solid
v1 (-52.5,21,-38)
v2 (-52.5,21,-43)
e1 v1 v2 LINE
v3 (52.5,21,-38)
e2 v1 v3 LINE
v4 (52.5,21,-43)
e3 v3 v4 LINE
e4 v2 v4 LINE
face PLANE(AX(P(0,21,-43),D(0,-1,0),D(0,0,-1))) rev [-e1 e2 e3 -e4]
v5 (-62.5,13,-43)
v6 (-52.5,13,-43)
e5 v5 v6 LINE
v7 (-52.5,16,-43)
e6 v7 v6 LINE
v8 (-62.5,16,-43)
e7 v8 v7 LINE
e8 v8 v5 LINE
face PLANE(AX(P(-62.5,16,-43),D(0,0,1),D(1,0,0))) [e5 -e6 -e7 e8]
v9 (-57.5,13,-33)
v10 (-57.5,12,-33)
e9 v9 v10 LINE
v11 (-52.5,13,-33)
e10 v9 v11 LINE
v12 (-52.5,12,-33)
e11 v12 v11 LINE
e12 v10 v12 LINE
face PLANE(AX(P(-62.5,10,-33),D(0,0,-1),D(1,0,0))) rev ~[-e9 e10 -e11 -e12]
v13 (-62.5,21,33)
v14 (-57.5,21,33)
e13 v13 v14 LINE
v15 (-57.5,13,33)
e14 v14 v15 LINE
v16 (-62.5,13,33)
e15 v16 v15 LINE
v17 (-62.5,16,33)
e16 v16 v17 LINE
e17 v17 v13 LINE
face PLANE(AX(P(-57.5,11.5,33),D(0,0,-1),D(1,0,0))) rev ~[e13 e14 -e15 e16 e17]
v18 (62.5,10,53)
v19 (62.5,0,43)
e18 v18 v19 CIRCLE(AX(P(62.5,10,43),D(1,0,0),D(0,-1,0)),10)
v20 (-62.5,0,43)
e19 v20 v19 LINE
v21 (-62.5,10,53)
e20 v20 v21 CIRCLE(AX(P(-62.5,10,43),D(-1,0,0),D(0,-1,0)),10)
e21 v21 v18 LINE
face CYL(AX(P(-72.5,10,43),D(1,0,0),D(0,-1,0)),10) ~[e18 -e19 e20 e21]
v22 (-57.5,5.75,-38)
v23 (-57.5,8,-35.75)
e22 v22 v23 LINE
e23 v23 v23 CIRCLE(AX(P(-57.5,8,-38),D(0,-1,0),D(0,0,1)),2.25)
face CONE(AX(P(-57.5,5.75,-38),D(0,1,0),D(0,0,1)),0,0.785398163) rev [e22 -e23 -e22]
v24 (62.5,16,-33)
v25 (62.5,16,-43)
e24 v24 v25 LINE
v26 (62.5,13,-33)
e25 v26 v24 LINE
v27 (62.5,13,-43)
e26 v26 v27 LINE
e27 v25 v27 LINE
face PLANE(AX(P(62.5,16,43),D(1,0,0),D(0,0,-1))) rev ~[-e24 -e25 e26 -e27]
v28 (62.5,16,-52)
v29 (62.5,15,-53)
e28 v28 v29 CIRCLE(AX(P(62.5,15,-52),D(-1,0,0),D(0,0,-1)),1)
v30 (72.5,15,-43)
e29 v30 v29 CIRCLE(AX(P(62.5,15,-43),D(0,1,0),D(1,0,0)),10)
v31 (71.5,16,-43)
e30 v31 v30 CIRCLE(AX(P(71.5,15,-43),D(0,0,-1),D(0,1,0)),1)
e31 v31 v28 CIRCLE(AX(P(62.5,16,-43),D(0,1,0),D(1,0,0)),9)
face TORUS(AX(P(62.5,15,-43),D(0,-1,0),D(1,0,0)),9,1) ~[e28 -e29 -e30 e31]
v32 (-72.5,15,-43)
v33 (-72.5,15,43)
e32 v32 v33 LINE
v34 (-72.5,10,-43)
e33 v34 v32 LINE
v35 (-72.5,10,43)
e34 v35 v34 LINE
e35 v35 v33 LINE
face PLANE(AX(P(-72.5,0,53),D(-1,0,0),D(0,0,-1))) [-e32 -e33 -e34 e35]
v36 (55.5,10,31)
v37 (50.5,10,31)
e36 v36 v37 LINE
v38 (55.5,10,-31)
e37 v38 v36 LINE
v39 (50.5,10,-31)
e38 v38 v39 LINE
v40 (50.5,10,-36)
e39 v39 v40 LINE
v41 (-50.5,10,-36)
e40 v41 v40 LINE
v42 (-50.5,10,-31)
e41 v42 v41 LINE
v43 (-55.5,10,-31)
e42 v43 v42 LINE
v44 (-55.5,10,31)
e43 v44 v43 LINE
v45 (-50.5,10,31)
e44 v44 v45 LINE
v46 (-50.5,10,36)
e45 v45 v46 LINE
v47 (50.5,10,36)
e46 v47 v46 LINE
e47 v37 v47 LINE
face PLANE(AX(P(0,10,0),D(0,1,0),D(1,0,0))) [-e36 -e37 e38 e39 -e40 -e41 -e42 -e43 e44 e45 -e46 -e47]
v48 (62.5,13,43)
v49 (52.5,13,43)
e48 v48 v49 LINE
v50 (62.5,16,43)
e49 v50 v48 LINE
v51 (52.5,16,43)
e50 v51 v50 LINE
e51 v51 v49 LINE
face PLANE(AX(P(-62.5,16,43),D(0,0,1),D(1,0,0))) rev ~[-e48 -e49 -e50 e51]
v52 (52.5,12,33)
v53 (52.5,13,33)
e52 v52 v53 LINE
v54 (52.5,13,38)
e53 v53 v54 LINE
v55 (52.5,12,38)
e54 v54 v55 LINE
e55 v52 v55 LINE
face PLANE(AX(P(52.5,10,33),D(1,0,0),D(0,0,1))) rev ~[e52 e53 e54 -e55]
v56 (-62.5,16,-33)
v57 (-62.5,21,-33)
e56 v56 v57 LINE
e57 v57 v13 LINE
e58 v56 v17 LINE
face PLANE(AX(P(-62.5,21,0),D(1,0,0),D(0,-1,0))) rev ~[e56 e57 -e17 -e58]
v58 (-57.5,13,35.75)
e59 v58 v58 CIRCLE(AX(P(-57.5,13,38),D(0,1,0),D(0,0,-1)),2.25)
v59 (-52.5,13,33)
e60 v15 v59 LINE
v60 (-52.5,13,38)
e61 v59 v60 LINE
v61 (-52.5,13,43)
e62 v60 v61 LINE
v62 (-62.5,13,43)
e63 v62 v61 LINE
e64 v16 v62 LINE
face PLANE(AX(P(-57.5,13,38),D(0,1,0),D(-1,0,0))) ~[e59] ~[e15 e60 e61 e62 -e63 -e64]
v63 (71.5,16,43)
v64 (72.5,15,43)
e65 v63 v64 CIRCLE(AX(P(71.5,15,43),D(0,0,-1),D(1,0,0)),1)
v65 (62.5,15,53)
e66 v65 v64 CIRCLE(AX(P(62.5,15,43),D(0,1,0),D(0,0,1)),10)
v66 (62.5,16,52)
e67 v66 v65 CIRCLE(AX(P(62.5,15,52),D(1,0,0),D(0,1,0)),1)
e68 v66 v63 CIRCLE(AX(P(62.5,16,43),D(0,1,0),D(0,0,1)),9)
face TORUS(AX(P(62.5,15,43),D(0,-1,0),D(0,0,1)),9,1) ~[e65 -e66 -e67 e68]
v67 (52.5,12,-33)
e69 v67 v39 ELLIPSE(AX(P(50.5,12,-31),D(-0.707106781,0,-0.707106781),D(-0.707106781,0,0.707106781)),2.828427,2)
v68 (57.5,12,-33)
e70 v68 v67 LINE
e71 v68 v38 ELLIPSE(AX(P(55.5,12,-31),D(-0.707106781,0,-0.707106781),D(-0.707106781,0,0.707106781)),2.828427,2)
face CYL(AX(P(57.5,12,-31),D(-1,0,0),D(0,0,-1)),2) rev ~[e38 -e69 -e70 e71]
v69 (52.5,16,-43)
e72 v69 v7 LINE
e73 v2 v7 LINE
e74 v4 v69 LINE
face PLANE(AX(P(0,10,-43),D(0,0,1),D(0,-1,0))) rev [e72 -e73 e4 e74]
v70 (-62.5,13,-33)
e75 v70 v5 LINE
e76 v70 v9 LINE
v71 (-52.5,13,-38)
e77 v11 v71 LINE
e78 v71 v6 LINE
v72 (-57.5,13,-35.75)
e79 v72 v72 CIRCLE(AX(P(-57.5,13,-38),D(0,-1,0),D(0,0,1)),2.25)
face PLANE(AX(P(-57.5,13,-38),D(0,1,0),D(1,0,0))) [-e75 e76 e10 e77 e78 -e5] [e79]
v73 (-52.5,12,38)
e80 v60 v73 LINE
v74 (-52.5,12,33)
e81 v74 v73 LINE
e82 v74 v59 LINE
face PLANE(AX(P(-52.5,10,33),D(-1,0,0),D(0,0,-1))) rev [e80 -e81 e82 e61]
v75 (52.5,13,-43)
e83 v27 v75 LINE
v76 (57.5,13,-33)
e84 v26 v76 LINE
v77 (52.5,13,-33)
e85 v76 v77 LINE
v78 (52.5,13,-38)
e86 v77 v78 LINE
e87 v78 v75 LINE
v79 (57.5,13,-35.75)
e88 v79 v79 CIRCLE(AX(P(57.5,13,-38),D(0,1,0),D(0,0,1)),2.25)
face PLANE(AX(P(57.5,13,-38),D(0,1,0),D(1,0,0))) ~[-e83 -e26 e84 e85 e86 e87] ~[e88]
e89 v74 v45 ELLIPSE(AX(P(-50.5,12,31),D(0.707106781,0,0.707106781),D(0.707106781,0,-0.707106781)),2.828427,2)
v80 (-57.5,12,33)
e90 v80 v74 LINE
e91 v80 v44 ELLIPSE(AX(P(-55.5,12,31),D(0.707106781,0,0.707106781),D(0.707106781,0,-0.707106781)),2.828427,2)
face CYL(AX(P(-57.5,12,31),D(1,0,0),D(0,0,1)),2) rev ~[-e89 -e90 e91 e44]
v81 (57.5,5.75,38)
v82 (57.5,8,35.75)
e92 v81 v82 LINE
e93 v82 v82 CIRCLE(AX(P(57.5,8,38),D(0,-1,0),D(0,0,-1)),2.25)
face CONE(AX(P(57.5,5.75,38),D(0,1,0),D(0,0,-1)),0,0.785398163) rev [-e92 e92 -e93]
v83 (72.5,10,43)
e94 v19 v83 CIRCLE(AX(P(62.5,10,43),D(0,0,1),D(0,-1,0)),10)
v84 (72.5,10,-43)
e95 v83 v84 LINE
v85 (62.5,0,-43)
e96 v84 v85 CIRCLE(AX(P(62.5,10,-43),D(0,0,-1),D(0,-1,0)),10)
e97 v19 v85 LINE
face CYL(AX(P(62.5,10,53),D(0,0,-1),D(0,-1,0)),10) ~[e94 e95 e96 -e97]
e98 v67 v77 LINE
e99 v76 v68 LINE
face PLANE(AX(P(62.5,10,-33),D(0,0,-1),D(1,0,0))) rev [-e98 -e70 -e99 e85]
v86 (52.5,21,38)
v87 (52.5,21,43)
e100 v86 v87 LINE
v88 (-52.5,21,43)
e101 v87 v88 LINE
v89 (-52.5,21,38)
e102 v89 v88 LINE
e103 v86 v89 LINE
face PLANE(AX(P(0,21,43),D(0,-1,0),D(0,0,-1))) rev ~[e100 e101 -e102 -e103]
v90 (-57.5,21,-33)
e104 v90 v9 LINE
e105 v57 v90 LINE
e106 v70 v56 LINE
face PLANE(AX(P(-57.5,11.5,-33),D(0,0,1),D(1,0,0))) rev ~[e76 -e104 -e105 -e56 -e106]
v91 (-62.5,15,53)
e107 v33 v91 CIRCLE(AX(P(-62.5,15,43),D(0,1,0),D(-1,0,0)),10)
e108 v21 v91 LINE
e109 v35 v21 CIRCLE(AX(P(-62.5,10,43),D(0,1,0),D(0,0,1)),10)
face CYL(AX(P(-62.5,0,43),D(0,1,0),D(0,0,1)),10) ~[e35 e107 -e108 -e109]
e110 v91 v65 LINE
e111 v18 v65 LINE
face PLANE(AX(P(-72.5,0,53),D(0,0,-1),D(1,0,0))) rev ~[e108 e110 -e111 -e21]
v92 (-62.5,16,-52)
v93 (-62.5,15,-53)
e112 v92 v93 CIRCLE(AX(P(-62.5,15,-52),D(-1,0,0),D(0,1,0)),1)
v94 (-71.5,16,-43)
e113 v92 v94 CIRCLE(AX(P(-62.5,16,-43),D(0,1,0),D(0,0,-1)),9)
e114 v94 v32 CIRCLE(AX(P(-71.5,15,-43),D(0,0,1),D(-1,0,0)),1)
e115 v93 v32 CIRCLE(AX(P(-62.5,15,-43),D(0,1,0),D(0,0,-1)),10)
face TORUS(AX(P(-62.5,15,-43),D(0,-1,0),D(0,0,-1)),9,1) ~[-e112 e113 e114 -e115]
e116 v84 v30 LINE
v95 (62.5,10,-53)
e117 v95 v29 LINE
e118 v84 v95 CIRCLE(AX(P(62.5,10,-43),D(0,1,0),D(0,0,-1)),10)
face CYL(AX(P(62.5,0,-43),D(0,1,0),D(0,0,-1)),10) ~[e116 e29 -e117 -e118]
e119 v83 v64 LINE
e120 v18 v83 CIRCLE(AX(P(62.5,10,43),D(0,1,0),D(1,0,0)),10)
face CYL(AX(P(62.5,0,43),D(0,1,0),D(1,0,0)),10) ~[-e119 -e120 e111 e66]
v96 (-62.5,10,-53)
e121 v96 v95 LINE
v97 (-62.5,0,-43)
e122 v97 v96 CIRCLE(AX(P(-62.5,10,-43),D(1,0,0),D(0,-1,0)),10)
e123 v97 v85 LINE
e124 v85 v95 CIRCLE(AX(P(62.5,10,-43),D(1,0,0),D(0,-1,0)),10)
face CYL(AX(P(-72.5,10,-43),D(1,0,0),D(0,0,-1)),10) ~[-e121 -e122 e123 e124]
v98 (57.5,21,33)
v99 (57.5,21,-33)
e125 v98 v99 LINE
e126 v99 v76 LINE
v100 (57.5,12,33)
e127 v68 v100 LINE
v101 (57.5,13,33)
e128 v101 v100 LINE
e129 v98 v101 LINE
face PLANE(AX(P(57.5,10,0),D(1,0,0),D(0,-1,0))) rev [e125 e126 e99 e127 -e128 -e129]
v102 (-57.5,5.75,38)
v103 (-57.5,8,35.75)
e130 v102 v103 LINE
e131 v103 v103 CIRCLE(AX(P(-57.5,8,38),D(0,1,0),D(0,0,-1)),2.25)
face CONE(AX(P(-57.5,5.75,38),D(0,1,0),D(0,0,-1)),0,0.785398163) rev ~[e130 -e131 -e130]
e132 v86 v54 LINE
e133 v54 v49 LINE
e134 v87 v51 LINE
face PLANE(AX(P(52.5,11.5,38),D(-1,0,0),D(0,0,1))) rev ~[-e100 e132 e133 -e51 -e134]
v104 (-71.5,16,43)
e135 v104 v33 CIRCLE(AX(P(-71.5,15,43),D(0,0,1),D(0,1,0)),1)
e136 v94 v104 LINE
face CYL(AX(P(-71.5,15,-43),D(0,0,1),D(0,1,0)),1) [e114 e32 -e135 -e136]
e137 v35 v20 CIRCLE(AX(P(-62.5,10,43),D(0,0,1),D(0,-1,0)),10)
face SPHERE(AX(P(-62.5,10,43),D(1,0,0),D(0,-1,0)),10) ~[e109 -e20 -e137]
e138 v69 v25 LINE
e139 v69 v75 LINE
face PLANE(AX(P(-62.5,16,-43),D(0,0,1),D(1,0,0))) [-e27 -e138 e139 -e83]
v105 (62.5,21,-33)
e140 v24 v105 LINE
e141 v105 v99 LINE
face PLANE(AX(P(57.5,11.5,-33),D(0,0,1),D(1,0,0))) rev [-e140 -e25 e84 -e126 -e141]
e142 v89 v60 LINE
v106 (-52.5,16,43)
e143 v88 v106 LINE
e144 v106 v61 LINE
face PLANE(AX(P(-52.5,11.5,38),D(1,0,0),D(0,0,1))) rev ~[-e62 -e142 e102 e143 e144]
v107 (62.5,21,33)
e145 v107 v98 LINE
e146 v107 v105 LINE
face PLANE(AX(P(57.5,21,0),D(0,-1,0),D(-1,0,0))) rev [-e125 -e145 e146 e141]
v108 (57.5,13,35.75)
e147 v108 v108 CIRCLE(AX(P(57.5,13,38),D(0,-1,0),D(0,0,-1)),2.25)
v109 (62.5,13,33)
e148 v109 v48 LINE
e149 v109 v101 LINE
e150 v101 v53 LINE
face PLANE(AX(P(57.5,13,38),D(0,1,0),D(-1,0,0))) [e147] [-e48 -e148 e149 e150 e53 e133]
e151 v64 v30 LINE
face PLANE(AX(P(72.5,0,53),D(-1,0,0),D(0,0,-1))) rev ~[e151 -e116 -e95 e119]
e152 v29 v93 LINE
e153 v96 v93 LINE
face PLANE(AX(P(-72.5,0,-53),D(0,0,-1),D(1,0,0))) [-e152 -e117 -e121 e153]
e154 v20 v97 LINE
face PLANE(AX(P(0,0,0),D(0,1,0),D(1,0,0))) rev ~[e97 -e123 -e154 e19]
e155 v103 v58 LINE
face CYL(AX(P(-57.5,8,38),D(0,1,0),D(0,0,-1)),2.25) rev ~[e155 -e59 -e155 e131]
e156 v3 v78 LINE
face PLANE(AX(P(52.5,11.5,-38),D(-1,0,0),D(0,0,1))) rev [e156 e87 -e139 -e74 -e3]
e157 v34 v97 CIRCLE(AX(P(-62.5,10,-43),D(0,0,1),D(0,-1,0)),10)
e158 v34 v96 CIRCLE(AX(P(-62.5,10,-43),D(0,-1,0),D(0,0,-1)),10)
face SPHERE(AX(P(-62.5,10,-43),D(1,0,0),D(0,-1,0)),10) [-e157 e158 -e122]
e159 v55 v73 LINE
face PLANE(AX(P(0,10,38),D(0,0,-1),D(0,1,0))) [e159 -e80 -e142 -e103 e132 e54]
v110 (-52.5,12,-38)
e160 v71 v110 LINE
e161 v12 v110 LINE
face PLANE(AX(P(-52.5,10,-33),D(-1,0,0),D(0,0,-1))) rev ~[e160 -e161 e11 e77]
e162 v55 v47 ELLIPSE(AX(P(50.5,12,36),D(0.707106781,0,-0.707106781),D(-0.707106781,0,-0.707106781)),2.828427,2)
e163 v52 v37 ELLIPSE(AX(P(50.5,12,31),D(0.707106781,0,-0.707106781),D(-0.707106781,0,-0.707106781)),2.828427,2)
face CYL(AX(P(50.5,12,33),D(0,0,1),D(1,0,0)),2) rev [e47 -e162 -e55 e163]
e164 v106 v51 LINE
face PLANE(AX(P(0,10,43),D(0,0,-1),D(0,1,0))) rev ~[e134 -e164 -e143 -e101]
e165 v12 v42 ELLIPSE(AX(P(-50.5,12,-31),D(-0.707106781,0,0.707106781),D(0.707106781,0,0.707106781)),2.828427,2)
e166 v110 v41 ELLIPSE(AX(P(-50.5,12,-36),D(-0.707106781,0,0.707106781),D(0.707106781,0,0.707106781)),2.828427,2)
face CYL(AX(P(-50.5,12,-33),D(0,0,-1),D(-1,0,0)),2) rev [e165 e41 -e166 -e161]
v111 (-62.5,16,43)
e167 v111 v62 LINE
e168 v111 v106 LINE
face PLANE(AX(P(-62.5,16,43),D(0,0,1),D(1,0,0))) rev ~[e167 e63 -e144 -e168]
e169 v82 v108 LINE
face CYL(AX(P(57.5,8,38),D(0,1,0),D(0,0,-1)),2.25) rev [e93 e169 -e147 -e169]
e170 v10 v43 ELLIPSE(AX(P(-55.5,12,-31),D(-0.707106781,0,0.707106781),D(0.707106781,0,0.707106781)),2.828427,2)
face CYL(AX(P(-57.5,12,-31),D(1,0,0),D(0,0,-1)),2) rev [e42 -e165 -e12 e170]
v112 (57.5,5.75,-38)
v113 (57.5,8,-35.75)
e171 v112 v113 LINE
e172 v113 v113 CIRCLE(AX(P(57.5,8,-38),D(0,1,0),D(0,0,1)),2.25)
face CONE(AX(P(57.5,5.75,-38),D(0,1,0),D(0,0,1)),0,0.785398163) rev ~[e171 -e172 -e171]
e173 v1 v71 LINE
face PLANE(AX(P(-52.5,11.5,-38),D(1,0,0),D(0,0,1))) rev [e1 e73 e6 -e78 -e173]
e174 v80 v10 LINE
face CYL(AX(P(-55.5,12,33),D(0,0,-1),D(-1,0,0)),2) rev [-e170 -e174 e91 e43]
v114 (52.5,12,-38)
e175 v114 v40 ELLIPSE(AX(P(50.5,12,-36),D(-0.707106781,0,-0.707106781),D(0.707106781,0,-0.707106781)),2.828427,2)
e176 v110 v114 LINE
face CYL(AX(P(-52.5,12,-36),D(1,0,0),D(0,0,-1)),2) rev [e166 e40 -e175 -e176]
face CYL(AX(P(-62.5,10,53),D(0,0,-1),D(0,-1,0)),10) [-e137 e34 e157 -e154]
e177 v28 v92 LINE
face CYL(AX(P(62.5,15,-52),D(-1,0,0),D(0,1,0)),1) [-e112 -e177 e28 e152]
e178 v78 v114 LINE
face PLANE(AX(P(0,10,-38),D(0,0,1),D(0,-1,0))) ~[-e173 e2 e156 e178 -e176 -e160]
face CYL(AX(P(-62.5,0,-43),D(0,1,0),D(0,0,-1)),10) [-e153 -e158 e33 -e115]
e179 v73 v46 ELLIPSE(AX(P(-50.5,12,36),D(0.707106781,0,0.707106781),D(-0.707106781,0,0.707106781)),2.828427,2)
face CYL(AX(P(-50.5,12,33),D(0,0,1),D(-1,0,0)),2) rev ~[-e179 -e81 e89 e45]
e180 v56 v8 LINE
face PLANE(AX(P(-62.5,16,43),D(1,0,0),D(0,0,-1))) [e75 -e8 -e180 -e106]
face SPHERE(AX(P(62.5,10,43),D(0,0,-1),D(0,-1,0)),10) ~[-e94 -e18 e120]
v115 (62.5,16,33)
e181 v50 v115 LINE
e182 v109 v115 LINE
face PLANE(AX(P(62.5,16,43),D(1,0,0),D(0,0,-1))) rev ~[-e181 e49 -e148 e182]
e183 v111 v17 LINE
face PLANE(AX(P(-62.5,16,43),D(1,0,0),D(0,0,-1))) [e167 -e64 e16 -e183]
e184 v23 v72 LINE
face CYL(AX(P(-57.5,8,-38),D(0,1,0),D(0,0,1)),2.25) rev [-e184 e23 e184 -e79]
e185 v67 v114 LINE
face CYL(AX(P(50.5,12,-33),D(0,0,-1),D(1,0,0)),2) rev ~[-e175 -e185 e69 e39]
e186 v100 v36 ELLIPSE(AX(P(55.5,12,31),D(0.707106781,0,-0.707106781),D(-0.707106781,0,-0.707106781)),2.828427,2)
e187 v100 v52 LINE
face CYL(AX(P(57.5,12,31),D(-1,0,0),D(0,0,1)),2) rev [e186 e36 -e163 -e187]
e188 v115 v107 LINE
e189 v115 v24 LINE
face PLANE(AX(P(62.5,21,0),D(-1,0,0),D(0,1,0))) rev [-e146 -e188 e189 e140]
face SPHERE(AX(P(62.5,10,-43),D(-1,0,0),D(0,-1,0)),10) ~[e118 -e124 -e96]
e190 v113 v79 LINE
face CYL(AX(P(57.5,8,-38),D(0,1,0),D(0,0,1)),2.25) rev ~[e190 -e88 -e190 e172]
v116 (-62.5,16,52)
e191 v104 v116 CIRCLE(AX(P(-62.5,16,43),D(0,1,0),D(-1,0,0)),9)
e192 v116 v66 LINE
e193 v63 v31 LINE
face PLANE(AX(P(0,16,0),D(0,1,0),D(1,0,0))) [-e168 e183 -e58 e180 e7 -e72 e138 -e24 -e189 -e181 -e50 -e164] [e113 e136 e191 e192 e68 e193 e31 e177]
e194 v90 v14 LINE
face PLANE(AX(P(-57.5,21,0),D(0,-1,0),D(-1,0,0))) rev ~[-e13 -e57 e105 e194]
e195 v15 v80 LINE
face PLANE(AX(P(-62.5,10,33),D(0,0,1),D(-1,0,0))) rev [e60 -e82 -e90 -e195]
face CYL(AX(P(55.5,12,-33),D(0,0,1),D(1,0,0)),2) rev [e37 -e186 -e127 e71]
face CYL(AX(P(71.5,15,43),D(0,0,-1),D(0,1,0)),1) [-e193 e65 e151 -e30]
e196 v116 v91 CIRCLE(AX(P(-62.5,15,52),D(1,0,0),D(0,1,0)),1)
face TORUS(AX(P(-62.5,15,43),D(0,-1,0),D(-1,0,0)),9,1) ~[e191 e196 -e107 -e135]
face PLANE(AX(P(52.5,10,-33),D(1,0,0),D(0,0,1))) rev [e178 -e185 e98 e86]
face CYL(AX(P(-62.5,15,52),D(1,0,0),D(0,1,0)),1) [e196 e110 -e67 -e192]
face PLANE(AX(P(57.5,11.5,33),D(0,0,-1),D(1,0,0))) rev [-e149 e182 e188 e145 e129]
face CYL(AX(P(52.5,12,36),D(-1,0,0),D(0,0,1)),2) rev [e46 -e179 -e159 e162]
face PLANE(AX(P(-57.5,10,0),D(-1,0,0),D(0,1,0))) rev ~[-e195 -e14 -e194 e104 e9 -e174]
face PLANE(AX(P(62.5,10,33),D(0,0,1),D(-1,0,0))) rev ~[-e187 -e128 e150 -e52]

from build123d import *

# Parameters (mm, degrees)
SKETCH1_W                       = 145
SKETCH1_H                       = 106
BOSS_EXTRUDE1_DEPTH             = 16
CUT_EXTRUDE1_START              = 16
SKETCH1_4_W                     = 125
SKETCH1_4_H                     = 86
CUT_EXTRUDE1_DEPTH              = 6
SKETCH6_W                       = 10
SKETCH6_H                       = 10
BOSS_EXTRUDE5_DEPTH             = 3
MIRROR2_COPY_1_SKETCH_W         = 10
MIRROR2_COPY_1_SKETCH_H         = 10
MIRROR2_COPY_1_DEPTH            = 3
BOSS_EXTRUDE6_REACH             = 93.221
BOSS_EXTRUDE6_DIRECTION_2_REACH = 93.221
BOSS_EXTRUDE7_REACH             = 94.229
SKETCH9_W                       = 5
SKETCH9_H                       = 11
BOSS_EXTRUDE7_DIRECTION_2_REACH = 94.229
FILLET1_R                       = 10
FILLET3_R                       = 2
FILLET11_R                      = 1


with BuildPart() as part:
    # Sketch1 → Boss-Extrude1 (new body)
    with BuildSketch(Plane(origin=(0, 0, 0), x_dir=(1, 0, 0), z_dir=(0, 1, 0))):
        Rectangle(SKETCH1_W, SKETCH1_H)
    extrude(amount=BOSS_EXTRUDE1_DEPTH)

    # Sketch1<4> → Cut-Extrude1 (cut)
    with BuildSketch(Plane(origin=(0, 0, 0), x_dir=(1, 0, 0), z_dir=(0, 1, 0)).offset(CUT_EXTRUDE1_START)):
        Rectangle(SKETCH1_4_W, SKETCH1_4_H)
    extrude(amount=-CUT_EXTRUDE1_DEPTH, mode=Mode.SUBTRACT)

    # Sketch6 → Boss-Extrude5 (add)
    with BuildSketch(Plane(origin=(0, 10, 0), x_dir=(1, 0, 0), z_dir=(0, 1, 0))):
        with Locations((-57.5, 38)):
            Rectangle(SKETCH6_W, SKETCH6_H)
    boss_extrude5 = extrude(amount=BOSS_EXTRUDE5_DEPTH)

    # Sketch8 → M4 Clearance Hole1 (revolve, cut)
    with BuildSketch(Plane(origin=(-57.5, 13, -38), x_dir=(0, 0, 1), z_dir=(1, 0, 0))):
        Polygon((0, 0), (0, 7.25), (2.25, 5), (2.25, 0), align=None)
    m4_clearance_hole1 = revolve(axis=Axis((-57.5, 19.35, -38), (0, -1, 0)), mode=Mode.SUBTRACT)

    # Mirror1: Boss-Extrude5, M4 Clearance Hole1 across plane
    add(boss_extrude5.mirror(Plane(origin=(0, 0, 0), x_dir=(0, 0, 1), z_dir=(1, 0, 0))))
    add(m4_clearance_hole1.mirror(Plane(origin=(0, 0, 0), x_dir=(0, 0, 1), z_dir=(1, 0, 0))), mode=Mode.SUBTRACT)

    # Mirror2: Boss-Extrude5, M4 Clearance Hole1 across plane
    add(boss_extrude5.mirror(Plane.XY))
    add(m4_clearance_hole1.mirror(Plane.XY), mode=Mode.SUBTRACT)

    # Mirror2 copy 1 sketch → Mirror2 copy 1 (add)
    with BuildSketch(Plane(origin=(0, 10, 0), x_dir=(-1, 0, 0), z_dir=(0, 1, 0))):
        with Locations((-57.5, 38)):
            Rectangle(MIRROR2_COPY_1_SKETCH_W, MIRROR2_COPY_1_SKETCH_H)
    extrude(amount=MIRROR2_COPY_1_DEPTH)

    # Mirror2 copy 2 sketch → Mirror2 copy 2 (revolve, cut)
    with BuildSketch(Plane(origin=(57.5, 13, 38), x_dir=(0, 0, -1), z_dir=(-1, 0, 0))):
        Polygon((0, 0), (0, 7.25), (2.25, 5), (2.25, 0), align=None)
    revolve(axis=Axis((57.5, 19.35, 38), (0, -1, 0)), mode=Mode.SUBTRACT)

    # Boss-Extrude6: up to this face of the body (flat: up to its plane)
    boss_extrude6_end = Plane(part.part.faces().sort_by_distance((-57.5, 11.5, -33))[0])
    # Sketch4 → Boss-Extrude6 (add, up to the picked face)
    with BuildSketch(Plane.XY, mode=Mode.PRIVATE) as boss_extrude6_sk1:
        Polygon((-57.5, 10), (-57.5, 21), (-62.5, 21), (-62.5, 16), (-62.5, 10), align=None)
    boss_extrude6_tool1 = split(extrude(boss_extrude6_sk1.sketch, amount=-BOSS_EXTRUDE6_REACH, mode=Mode.PRIVATE), bisect_by=boss_extrude6_end, keep=Keep.BOTH, mode=Mode.PRIVATE)
    boss_extrude6 = boss_extrude6_tool1.solids().sort_by(Axis((-60, 15.5, 0), (0, 0, -1)))[0]
    add(boss_extrude6)

    # Boss-Extrude6 direction 2: up to this face of the body (flat: up to its plane)
    boss_extrude6_direction_2_end = Plane(part.part.faces().sort_by_distance((-57.5, 11.5, 33))[0])
    # Sketch4 → Boss-Extrude6 direction 2 (add, up to the picked face)
    with BuildSketch(Plane.XY, mode=Mode.PRIVATE) as boss_extrude6_direction_2_sk1:
        Polygon((-57.5, 10), (-57.5, 21), (-62.5, 21), (-62.5, 16), (-62.5, 10), align=None)
    boss_extrude6_direction_2_tool1 = split(extrude(boss_extrude6_direction_2_sk1.sketch, amount=BOSS_EXTRUDE6_DIRECTION_2_REACH, mode=Mode.PRIVATE), bisect_by=boss_extrude6_direction_2_end, keep=Keep.BOTH, mode=Mode.PRIVATE)
    boss_extrude6_direction_2 = boss_extrude6_direction_2_tool1.solids().sort_by(Axis((-60, 15.5, 0), (0, 0, 1)))[0]
    add(boss_extrude6_direction_2)

    # Boss-Extrude7: up to this face of the body (flat: up to its plane)
    boss_extrude7_end = Plane(part.part.faces().sort_by_distance((52.5, 11.5, 38))[0])
    # Sketch9 → Boss-Extrude7 (add, up to the picked face)
    with BuildSketch(Plane(origin=(0, 0, 0), x_dir=(0, 0, -1), z_dir=(1, 0, 0)), mode=Mode.PRIVATE) as boss_extrude7_sk1:
        with Locations((-40.5, 15.5)):
            Rectangle(SKETCH9_W, SKETCH9_H)
    boss_extrude7_tool1 = split(extrude(boss_extrude7_sk1.sketch, amount=BOSS_EXTRUDE7_REACH, mode=Mode.PRIVATE), bisect_by=boss_extrude7_end, keep=Keep.BOTH, mode=Mode.PRIVATE)
    boss_extrude7 = boss_extrude7_tool1.solids().sort_by(Axis((0, 15.5, 40.5), (1, 0, 0)))[0]
    add(boss_extrude7)

    # Boss-Extrude7 direction 2: up to this face of the body (flat: up to its plane)
    boss_extrude7_direction_2_end = Plane(part.part.faces().sort_by_distance((-52.5, 11.5, 38))[0])
    # Sketch9 → Boss-Extrude7 direction 2 (add, up to the picked face)
    with BuildSketch(Plane(origin=(0, 0, 0), x_dir=(0, 0, -1), z_dir=(1, 0, 0)), mode=Mode.PRIVATE) as boss_extrude7_direction_2_sk1:
        with Locations((-40.5, 15.5)):
            Rectangle(SKETCH9_W, SKETCH9_H)
    boss_extrude7_direction_2_tool1 = split(extrude(boss_extrude7_direction_2_sk1.sketch, amount=-BOSS_EXTRUDE7_DIRECTION_2_REACH, mode=Mode.PRIVATE), bisect_by=boss_extrude7_direction_2_end, keep=Keep.BOTH, mode=Mode.PRIVATE)
    boss_extrude7_direction_2 = boss_extrude7_direction_2_tool1.solids().sort_by(Axis((0, 15.5, 40.5), (-1, 0, 0)))[0]
    add(boss_extrude7_direction_2)

    # Mirror3: Boss-Extrude6, Boss-Extrude6 direction 2 across plane
    add(boss_extrude6.mirror(Plane(origin=(0, 0, 0), x_dir=(0, 0, 1), z_dir=(1, 0, 0))))
    add(boss_extrude6_direction_2.mirror(Plane(origin=(0, 0, 0), x_dir=(0, 0, 1), z_dir=(1, 0, 0))))

    # Mirror4: Boss-Extrude7, Boss-Extrude7 direction 2 across plane
    add(boss_extrude7.mirror(Plane.XY))
    add(boss_extrude7_direction_2.mirror(Plane.XY))

    # Fillet1
    fillet1_edges = [part.edges().sort_by_distance(p)[0] for p in [
        (0, 0, -53),
        (72.5, 0, 0),
        (0, 0, 53),
        (-72.5, 0, 0),
        (-72.5, 8, -53),
        (72.5, 8, -53),
        (72.5, 8, 53),
        (-72.5, 8, 53),
    ]]
    fillet(fillet1_edges, radius=FILLET1_R)

    # Fillet3
    fillet3_edges = [part.edges().sort_by_distance(p)[0] for p in [
        (-55, 10, 33),
        (-55, 10, -33),
        (-57.5, 10, 0),
        (0, 10, 38),
        (55, 10, 33),
        (55, 10, -33),
        (57.5, 10, 0),
        (0, 10, -38),
        (-52.5, 10, -35.5),
        (52.5, 10, -35.5),
        (52.5, 10, 35.5),
        (-52.5, 10, 35.5),
    ]]
    fillet(fillet3_edges, radius=FILLET3_R)

    # Fillet11
    fillet11_edges = [part.edges().sort_by_distance(p)[0] for p in [
        (0, 16, 53),
        (72.5, 16, 0),
        (0, 16, -53),
        (-72.5, 16, 0),
        (-69.571067812, 16, 50.071067812),
        (69.571067812, 16, 50.071067812),
        (69.571067812, 16, -50.071067812),
        (-69.571067812, 16, -50.071067812),
    ]]
    fillet(fillet11_edges, radius=FILLET11_R)


solid = part.part
